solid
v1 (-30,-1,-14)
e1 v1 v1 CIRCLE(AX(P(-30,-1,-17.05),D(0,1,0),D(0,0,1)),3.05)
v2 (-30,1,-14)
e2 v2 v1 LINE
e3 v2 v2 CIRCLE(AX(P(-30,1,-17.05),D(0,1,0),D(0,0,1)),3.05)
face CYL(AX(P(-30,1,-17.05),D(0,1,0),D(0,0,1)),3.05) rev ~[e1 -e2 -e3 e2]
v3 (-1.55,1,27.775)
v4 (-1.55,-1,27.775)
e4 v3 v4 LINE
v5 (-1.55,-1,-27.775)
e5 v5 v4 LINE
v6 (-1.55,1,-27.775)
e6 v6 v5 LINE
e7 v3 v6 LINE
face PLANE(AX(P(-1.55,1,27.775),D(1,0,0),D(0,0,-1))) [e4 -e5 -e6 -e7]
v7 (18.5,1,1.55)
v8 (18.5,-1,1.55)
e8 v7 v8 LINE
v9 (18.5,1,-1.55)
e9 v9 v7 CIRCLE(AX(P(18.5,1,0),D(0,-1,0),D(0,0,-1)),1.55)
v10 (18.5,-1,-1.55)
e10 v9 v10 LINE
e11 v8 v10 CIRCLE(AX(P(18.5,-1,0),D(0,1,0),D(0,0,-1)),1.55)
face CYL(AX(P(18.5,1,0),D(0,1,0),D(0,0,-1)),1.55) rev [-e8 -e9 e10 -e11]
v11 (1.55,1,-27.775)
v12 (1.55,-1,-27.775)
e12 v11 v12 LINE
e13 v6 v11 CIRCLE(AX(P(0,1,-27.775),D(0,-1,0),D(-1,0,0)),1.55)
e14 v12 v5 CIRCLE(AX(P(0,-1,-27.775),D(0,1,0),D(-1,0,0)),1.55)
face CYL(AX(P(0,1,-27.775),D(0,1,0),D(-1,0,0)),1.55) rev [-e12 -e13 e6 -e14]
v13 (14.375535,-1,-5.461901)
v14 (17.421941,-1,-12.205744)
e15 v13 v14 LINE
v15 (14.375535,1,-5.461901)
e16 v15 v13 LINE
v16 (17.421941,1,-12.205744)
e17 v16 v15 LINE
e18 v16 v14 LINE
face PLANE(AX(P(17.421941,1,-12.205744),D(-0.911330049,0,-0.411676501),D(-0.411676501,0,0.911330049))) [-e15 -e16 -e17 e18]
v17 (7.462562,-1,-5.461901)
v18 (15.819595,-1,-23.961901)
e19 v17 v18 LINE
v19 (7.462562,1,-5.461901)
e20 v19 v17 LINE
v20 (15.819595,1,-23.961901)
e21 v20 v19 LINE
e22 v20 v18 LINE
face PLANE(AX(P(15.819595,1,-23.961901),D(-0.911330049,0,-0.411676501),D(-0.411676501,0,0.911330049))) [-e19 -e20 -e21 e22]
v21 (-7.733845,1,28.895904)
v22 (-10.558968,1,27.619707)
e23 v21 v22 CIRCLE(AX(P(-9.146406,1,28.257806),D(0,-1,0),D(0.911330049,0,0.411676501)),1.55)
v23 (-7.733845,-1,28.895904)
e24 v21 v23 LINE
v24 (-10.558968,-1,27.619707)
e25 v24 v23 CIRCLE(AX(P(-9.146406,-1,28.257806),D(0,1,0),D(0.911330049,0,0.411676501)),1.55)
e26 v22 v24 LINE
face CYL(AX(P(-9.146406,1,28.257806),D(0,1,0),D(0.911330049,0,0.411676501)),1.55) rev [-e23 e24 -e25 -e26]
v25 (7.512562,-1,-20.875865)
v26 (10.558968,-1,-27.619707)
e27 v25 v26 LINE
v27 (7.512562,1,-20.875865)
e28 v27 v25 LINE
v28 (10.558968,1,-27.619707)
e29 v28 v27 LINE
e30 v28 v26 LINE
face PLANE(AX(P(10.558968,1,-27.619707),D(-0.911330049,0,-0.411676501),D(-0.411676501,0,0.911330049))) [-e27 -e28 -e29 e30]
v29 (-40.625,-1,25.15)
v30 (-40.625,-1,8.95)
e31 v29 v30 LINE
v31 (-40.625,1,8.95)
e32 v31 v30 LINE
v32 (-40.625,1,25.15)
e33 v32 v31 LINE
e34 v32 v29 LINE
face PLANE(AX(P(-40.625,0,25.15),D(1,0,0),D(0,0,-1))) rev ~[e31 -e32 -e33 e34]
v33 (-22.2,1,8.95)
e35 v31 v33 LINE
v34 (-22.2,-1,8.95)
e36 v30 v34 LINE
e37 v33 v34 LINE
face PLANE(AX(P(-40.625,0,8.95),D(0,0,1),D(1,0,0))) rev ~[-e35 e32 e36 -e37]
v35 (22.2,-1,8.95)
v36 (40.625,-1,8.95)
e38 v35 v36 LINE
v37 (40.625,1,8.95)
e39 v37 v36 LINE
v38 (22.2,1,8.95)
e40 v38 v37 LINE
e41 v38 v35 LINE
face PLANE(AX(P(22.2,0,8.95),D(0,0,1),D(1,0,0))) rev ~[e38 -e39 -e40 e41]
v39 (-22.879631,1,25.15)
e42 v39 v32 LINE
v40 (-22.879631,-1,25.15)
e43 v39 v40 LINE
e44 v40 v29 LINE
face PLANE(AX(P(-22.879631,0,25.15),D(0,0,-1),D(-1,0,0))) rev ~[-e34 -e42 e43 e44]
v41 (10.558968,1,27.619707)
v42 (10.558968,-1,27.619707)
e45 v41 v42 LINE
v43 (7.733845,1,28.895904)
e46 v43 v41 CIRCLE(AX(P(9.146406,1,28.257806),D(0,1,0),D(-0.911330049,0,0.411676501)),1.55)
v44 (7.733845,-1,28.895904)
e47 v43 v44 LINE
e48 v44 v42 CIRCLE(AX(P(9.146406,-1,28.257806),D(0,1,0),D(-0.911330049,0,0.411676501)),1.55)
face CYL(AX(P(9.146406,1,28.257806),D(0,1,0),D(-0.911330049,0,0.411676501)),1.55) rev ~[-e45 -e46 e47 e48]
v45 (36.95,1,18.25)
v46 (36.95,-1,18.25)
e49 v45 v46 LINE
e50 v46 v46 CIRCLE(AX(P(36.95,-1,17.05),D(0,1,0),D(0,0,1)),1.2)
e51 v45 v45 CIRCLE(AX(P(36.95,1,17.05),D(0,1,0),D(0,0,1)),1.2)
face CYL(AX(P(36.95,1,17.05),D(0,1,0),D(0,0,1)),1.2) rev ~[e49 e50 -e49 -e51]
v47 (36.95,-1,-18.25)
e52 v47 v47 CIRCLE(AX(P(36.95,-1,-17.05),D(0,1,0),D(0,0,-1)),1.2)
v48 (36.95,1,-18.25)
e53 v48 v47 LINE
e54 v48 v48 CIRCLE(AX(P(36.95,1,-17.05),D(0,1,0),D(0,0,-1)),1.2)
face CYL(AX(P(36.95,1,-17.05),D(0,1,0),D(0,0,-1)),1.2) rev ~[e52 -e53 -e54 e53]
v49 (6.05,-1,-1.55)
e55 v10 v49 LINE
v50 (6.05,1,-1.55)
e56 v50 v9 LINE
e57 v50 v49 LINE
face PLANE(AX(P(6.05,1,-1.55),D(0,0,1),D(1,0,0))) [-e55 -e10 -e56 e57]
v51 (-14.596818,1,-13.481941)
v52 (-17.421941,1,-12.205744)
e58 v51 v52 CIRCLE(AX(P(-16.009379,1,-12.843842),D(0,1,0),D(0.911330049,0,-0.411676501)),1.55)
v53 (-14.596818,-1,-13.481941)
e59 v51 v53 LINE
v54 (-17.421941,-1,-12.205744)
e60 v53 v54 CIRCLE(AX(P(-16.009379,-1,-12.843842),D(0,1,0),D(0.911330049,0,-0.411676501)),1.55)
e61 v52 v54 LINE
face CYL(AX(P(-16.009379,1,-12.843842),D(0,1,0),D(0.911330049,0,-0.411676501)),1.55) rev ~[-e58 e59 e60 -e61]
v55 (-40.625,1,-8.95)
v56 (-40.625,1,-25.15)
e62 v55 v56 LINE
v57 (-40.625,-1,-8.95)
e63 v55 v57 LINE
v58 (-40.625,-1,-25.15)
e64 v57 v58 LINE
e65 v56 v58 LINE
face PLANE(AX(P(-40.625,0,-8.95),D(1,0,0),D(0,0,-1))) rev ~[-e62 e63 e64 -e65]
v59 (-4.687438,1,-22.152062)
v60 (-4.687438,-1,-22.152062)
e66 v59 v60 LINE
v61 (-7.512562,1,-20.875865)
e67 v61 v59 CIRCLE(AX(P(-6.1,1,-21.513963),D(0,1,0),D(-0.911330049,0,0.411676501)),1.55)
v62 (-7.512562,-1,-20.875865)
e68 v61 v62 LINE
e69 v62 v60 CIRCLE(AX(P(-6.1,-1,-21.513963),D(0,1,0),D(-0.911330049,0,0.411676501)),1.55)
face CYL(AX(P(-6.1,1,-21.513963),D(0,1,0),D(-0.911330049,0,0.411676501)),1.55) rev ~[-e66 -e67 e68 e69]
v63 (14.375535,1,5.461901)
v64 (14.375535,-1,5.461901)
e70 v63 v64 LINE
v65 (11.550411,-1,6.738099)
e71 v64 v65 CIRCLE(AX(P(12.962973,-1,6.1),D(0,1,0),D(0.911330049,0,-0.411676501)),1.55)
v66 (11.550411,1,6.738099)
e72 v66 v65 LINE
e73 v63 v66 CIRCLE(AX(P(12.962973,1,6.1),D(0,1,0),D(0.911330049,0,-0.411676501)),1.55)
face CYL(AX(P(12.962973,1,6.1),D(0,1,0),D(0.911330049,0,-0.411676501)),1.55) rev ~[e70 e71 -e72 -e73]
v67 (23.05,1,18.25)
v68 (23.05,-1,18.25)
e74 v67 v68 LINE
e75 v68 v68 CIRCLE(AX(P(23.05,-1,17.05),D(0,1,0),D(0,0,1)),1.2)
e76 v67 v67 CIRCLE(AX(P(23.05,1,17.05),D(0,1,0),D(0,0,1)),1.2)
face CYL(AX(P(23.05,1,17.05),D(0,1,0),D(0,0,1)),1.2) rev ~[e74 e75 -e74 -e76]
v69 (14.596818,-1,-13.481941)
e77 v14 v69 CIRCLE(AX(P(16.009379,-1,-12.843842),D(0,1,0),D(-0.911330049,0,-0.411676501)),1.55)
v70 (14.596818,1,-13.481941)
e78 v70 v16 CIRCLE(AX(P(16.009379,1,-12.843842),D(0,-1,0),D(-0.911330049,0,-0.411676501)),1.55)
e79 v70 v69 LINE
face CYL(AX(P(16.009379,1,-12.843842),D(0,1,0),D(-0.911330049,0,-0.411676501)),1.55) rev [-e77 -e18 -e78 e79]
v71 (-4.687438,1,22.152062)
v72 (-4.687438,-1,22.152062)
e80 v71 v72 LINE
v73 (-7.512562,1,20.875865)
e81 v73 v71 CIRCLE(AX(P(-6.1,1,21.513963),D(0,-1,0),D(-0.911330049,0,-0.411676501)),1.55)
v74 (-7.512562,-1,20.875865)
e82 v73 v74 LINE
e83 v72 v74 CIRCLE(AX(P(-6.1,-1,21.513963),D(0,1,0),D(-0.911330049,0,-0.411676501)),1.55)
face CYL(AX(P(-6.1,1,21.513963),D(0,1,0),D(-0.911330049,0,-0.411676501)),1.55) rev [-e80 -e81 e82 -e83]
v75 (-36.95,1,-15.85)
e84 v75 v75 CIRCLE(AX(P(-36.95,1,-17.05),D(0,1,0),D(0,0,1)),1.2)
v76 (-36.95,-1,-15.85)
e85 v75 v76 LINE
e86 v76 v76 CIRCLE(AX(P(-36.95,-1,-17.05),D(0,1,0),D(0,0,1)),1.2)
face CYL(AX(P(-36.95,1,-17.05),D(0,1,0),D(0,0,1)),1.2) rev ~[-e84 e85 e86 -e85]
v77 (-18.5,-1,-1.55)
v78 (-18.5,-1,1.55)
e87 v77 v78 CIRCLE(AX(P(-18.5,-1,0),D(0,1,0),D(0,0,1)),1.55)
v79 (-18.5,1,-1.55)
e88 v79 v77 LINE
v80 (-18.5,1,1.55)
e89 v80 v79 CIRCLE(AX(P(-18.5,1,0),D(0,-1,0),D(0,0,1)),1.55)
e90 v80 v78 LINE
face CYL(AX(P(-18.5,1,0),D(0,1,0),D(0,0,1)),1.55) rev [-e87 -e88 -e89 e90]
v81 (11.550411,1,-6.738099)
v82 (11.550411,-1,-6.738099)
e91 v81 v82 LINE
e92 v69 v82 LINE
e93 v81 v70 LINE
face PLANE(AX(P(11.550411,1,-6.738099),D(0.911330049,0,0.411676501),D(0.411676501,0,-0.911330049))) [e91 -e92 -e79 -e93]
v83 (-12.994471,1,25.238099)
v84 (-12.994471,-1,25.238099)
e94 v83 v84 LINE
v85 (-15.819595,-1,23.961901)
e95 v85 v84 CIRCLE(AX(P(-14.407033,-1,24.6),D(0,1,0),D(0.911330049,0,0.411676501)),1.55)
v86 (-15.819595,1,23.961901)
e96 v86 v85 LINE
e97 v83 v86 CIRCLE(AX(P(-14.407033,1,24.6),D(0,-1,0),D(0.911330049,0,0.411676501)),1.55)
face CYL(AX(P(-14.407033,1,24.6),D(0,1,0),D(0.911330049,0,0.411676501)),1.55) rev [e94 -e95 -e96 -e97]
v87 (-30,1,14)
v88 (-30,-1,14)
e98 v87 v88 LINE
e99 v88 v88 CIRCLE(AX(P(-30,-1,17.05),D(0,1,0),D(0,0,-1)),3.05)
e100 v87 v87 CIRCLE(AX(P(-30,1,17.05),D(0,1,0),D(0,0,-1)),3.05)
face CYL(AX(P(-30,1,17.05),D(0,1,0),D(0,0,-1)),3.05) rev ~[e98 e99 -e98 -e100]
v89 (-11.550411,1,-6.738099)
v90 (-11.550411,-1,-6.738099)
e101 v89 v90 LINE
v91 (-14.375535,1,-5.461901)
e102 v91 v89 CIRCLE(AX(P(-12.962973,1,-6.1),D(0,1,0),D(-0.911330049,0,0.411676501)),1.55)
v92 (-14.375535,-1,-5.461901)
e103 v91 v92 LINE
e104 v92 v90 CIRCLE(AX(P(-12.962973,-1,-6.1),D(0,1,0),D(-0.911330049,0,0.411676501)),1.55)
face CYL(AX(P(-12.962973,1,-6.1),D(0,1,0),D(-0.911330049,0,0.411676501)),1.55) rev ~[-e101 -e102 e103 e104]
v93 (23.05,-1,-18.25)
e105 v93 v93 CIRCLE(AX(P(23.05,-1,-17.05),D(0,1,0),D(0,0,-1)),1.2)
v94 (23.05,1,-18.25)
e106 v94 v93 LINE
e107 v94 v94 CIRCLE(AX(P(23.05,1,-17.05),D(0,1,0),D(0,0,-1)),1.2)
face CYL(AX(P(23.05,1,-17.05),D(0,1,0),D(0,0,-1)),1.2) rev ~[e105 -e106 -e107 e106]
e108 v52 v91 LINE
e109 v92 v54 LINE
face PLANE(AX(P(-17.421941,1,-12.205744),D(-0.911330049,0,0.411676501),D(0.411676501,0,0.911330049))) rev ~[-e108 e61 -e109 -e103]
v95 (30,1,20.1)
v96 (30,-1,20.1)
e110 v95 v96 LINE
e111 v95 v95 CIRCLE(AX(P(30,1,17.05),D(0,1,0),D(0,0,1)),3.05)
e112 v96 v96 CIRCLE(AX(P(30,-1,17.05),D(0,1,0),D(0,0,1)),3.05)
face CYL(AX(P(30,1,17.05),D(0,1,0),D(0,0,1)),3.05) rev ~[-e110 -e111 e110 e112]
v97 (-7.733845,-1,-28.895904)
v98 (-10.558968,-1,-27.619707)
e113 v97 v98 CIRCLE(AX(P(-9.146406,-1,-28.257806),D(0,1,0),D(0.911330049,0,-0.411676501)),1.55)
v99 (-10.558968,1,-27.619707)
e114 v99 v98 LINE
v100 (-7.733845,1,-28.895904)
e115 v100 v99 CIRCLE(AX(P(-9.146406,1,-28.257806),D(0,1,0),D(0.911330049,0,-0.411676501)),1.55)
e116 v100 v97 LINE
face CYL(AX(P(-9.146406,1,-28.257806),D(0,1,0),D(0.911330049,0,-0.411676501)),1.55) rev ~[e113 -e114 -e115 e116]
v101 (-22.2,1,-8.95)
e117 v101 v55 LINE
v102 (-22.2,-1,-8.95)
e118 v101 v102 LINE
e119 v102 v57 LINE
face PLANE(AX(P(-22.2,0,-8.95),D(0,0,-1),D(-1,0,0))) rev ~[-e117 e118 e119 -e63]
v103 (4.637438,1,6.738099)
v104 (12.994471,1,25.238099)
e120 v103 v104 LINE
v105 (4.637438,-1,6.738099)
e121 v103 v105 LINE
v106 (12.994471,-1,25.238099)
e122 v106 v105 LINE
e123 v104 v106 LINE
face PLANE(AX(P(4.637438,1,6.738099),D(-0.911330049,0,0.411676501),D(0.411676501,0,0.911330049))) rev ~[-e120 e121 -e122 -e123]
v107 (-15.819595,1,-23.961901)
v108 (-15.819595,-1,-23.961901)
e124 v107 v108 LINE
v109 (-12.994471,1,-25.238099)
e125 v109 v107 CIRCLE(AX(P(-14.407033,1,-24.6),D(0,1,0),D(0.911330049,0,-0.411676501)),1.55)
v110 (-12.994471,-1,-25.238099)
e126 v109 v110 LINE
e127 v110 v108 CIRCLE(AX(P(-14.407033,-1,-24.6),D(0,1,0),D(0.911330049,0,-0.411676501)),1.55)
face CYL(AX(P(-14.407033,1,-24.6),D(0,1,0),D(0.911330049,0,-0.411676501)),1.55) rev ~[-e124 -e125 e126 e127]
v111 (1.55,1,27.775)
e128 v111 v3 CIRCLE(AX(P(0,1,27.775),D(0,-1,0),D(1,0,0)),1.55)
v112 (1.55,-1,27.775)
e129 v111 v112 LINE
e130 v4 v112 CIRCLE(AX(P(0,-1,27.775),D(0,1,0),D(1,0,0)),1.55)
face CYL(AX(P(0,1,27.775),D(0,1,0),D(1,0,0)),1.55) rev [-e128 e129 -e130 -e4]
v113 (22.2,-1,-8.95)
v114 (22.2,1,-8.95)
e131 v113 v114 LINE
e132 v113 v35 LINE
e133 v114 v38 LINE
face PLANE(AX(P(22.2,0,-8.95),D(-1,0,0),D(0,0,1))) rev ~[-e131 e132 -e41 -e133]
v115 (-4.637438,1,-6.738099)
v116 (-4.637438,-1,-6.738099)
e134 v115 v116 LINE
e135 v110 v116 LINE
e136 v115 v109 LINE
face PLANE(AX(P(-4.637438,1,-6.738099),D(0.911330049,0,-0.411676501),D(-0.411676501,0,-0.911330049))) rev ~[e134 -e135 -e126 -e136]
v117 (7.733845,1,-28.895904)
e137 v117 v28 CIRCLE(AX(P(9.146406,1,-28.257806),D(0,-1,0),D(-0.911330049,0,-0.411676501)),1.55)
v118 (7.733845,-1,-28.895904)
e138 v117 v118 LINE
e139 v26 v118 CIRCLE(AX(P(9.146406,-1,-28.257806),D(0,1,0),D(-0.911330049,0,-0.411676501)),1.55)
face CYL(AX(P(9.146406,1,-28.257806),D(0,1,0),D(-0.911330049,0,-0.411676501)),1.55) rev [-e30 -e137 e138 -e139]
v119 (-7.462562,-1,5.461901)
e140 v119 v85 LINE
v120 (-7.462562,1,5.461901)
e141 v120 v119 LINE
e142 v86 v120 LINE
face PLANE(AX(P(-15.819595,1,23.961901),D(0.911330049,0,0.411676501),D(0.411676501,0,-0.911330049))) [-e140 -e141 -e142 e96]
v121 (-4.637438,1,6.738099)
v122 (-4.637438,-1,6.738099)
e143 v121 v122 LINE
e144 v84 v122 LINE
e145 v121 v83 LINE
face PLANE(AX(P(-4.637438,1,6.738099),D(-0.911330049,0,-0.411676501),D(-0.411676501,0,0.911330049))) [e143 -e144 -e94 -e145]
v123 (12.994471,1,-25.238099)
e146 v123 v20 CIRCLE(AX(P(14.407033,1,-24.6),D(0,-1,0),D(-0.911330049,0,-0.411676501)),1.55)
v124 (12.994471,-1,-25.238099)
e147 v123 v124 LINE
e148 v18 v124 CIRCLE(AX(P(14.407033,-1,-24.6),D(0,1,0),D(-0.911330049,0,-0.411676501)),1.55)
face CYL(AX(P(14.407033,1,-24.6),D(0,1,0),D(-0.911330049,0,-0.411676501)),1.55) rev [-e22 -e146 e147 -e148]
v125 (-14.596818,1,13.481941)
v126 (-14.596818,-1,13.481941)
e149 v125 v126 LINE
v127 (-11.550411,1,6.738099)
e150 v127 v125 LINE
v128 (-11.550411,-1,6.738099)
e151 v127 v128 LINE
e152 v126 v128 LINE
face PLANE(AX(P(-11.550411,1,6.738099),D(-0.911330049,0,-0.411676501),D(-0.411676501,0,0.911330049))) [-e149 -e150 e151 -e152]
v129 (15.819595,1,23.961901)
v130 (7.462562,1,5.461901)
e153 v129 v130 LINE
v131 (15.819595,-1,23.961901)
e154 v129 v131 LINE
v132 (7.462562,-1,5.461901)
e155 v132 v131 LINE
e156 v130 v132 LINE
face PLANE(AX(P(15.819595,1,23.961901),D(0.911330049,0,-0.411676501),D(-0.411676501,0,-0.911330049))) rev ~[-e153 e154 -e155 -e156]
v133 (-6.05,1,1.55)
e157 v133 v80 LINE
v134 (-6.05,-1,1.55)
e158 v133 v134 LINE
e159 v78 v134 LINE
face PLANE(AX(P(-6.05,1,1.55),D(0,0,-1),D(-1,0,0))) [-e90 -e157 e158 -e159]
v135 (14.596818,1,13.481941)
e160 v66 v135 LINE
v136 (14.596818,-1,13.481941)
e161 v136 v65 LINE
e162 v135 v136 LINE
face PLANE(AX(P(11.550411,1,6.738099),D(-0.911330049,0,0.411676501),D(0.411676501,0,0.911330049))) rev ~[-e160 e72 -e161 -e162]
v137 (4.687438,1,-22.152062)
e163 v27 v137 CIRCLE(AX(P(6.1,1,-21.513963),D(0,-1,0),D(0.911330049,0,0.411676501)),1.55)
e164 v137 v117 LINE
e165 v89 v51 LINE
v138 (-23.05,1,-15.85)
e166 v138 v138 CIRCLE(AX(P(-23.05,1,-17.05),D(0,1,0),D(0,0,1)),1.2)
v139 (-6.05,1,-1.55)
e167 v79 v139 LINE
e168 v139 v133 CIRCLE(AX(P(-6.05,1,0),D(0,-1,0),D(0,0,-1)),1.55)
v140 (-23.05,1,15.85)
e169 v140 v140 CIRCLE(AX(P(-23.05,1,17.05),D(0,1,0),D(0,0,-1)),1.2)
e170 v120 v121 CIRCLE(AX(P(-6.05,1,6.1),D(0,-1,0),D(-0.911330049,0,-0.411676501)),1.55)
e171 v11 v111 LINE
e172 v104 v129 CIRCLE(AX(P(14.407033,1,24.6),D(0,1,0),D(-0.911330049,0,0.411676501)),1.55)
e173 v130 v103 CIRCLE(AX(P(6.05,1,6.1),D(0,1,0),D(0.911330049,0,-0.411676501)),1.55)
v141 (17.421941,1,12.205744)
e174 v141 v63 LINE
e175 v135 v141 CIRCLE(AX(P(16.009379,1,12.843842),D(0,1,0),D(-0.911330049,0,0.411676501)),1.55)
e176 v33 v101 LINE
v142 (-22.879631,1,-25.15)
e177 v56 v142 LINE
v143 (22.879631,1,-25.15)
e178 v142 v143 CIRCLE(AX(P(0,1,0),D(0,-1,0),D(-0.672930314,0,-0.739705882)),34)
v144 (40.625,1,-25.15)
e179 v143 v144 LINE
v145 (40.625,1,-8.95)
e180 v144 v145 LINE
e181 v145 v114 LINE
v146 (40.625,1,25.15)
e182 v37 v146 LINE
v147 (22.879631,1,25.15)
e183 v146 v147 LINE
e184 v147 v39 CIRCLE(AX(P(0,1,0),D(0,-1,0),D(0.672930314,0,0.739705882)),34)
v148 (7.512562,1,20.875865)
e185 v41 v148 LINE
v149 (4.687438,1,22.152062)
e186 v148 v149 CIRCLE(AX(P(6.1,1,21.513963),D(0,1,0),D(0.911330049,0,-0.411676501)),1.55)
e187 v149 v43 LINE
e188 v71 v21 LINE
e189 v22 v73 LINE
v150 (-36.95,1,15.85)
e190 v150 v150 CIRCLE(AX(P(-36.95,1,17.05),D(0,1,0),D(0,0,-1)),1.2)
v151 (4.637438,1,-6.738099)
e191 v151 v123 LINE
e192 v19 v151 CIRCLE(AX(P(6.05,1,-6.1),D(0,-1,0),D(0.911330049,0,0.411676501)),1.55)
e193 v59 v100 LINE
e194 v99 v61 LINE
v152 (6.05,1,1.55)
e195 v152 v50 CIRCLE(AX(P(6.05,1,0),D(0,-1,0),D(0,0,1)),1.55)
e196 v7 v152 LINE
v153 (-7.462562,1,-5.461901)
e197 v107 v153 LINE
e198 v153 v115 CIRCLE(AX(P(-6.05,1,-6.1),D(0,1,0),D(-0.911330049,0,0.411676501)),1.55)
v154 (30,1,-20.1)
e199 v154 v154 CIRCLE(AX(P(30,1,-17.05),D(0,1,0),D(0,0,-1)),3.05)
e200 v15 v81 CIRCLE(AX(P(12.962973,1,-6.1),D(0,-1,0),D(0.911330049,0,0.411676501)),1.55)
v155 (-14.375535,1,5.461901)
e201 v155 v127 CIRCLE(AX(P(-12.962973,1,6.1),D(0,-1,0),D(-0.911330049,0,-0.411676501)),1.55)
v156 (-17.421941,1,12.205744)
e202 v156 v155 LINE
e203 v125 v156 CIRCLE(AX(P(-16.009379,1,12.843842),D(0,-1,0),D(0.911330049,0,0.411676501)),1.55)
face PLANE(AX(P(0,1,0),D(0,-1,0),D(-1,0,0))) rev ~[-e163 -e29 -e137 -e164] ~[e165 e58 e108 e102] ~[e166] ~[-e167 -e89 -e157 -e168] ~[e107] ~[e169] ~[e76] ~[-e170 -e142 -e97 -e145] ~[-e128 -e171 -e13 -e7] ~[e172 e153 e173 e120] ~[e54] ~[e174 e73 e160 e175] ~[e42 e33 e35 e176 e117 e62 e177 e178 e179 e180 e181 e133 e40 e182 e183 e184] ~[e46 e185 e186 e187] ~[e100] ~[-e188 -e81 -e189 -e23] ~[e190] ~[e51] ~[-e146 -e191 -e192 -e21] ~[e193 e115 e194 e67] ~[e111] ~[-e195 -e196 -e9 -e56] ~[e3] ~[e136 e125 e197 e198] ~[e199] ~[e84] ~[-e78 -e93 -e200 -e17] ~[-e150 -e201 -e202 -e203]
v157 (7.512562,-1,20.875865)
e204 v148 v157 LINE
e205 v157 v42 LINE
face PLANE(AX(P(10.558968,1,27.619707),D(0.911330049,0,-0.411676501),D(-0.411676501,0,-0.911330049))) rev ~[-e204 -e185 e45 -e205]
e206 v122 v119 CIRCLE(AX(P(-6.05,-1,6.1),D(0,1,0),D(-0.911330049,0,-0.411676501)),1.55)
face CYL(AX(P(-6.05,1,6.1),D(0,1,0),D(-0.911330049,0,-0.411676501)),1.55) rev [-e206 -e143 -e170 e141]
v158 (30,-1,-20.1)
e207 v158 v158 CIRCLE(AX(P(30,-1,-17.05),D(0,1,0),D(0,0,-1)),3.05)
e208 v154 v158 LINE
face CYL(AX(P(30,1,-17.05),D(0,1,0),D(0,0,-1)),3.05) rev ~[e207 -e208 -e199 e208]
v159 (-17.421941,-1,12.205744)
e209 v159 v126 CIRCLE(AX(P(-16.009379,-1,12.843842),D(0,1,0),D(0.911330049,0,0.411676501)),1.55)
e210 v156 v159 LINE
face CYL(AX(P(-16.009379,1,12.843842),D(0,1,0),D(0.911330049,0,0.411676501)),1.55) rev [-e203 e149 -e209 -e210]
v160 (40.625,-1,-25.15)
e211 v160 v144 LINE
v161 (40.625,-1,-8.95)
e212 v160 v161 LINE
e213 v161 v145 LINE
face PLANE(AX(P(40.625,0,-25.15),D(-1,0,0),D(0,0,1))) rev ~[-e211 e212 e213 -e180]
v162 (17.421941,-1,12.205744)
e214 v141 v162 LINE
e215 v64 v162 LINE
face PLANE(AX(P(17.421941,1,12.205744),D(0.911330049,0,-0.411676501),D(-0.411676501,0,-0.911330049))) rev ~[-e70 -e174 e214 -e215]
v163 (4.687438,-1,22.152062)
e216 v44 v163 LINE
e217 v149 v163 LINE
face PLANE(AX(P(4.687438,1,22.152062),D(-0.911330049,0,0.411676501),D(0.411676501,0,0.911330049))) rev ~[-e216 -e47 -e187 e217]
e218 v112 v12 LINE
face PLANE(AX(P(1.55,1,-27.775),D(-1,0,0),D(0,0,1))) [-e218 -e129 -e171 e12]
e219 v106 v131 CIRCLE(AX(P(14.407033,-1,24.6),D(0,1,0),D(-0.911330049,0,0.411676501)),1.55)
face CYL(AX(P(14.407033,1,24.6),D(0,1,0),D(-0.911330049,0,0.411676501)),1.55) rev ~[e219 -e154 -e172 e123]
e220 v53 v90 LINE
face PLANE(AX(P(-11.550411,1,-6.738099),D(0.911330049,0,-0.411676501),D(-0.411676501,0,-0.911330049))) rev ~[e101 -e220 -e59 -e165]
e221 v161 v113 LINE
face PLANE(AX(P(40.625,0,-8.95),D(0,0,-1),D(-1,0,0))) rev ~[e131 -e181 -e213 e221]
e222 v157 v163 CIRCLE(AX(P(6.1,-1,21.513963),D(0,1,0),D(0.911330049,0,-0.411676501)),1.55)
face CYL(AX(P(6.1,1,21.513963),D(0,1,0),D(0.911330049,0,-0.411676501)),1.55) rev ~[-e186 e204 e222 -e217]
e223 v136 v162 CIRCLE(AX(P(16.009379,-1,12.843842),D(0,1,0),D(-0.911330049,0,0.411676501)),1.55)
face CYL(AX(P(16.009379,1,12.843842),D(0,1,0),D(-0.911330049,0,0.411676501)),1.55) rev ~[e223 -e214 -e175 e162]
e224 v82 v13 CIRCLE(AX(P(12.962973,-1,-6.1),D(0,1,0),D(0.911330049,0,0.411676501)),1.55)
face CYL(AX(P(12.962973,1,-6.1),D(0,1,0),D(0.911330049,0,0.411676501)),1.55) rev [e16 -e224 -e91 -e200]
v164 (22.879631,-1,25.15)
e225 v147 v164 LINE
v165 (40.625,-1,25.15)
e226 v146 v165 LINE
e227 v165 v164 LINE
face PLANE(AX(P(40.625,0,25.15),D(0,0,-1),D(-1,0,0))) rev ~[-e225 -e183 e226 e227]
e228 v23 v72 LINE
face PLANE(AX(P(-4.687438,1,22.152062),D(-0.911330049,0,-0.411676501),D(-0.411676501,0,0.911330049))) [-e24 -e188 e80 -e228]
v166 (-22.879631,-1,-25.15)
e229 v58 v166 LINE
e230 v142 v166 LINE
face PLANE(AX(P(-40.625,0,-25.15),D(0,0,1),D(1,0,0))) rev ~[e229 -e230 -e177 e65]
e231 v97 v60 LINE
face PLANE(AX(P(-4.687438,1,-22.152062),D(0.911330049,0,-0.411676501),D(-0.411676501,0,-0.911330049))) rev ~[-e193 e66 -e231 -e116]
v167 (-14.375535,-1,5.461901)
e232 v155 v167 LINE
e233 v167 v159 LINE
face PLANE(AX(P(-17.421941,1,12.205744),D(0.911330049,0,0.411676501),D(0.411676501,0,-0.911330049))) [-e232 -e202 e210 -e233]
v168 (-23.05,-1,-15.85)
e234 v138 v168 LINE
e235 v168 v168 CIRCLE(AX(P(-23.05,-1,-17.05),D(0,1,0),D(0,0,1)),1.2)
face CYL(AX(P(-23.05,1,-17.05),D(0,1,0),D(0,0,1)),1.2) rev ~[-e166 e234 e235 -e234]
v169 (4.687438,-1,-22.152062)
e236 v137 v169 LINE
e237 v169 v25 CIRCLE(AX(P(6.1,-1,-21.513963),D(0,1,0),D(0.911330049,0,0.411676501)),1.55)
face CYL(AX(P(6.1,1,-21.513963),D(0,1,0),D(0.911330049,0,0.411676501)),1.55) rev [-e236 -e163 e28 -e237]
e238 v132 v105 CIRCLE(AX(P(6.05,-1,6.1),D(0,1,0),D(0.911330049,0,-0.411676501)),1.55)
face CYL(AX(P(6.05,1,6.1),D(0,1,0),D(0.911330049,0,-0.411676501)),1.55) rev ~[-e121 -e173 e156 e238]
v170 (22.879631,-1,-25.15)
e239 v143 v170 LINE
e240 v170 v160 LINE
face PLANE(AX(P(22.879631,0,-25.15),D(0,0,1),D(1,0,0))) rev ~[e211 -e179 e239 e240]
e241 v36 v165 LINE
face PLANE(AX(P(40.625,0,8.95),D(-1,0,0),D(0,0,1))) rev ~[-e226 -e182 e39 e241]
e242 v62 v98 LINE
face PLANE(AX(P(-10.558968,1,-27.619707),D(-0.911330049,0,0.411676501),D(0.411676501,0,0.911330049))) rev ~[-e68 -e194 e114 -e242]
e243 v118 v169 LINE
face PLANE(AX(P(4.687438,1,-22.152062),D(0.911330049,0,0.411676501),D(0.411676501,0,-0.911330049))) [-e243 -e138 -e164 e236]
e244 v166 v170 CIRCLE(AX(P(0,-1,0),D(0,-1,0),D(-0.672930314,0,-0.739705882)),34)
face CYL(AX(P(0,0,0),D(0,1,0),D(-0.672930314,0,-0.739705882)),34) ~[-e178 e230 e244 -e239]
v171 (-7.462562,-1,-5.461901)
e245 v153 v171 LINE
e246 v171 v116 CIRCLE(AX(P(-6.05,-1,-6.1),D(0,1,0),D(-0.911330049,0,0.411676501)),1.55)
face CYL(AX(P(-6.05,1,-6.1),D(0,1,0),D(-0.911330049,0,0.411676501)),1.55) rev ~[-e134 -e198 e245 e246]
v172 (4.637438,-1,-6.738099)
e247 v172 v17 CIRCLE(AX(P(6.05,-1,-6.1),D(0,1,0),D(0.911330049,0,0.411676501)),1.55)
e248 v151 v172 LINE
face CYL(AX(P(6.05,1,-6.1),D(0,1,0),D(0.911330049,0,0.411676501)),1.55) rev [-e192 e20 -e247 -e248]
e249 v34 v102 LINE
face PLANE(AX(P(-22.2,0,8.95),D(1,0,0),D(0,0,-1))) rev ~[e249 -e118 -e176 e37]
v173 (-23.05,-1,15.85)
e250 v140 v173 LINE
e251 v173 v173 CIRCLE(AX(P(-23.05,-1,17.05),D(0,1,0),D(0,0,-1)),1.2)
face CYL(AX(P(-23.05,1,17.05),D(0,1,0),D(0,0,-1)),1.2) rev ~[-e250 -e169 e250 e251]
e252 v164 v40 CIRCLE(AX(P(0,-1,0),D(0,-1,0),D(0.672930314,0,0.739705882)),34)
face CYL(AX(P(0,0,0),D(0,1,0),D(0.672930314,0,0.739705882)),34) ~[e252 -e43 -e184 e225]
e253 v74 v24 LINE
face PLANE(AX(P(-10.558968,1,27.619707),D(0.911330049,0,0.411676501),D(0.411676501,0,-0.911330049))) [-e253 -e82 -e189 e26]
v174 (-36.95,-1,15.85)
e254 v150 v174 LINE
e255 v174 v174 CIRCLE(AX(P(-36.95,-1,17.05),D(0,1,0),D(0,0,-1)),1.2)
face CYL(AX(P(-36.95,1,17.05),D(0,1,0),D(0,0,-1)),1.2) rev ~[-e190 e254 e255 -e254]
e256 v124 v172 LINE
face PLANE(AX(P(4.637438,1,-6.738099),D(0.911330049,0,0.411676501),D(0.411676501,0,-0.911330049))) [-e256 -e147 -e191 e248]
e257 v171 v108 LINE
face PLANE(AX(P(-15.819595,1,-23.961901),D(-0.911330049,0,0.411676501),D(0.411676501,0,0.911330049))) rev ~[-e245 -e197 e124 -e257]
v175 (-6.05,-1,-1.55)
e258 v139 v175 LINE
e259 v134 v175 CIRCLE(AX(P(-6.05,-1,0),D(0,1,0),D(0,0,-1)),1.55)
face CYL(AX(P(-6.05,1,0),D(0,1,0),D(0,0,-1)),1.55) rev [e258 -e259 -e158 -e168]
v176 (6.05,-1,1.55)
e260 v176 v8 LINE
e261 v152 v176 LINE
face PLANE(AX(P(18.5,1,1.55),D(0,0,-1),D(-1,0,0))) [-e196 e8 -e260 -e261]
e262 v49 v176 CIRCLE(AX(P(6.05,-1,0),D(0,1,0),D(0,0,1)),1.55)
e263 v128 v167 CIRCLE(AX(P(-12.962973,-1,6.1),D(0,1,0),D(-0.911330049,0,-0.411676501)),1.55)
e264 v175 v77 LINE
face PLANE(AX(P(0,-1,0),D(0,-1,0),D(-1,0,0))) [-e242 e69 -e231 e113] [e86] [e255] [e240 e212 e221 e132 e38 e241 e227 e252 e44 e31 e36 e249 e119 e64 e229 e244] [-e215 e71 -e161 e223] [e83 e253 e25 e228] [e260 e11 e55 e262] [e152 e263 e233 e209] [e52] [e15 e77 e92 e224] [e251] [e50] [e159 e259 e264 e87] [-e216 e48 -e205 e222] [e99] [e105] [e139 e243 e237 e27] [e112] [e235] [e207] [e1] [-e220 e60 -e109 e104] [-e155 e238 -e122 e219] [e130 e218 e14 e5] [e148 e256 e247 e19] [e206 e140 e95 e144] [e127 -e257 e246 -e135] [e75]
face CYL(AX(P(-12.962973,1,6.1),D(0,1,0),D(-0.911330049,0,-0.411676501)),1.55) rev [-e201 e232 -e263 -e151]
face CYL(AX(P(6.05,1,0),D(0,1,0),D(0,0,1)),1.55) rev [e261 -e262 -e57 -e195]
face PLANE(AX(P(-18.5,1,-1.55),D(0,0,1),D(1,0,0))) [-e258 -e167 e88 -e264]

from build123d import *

# Parameters (mm, degrees)
BOSS_EXTRUDE1_DEPTH = 1
SKETCH3_R           = 1.2
SKETCH3_R_2         = 3.05
CUT_EXTRUDE1_DEPTH  = 54.01311748


with BuildPart() as part:
    # Sketch1 → Boss-Extrude1 (new, symmetric)
    with BuildSketch(Plane(origin=(0, 0, 0), x_dir=(1, 0, 0), z_dir=(0, 1, 0))):
        with BuildLine():
            Line((22.2, 8.95), (22.2, -8.95))
            Line((22.2, -8.95), (40.625, -8.95))
            Line((40.625, -8.95), (40.625, -25.15))
            Line((40.625, -25.15), (22.879630679, -25.15))
            ThreePointArc((22.879630679, -25.15), (0, -34), (-22.879630679, -25.15))
            Line((-22.879630679, -25.15), (-40.625, -25.15))
            Line((-40.625, -25.15), (-40.625, -8.95))
            Line((-40.625, -8.95), (-22.2, -8.95))
            Line((-22.2, -8.95), (-22.2, 8.95))
            Line((-22.2, 8.95), (-40.625, 8.95))
            Line((-40.625, 8.95), (-40.625, 25.15))
            Line((-40.625, 25.15), (-22.879630679, 25.15))
            ThreePointArc((-22.879630679, 25.15), (0, 34), (22.879630679, 25.15))
            Line((22.879630679, 25.15), (40.625, 25.15))
            Line((40.625, 25.15), (40.625, 8.95))
            Line((40.625, 8.95), (22.2, 8.95))
        make_face()
    extrude(amount=BOSS_EXTRUDE1_DEPTH, both=True)

    # Sketch3 → Cut-Extrude1 (cut, through all)
    with BuildSketch(Plane(origin=(0, 1, 0), x_dir=(1, 0, 0), z_dir=(0, 1, 0))):
        with Locations(Location((-36.95, 17.05, 0), (0, 0, 270))):
            Circle(SKETCH3_R)
        with Locations(Location((-30, 17.05, 0), (0, 0, 270))):
            Circle(SKETCH3_R_2)
        with Locations(Location((-23.05, 17.05, 0), (0, 0, 270))):
            Circle(SKETCH3_R)
        with Locations(Location((23.05, 17.05, 0), (0, 0, 90))):
            Circle(SKETCH3_R)
        with Locations(Location((30, 17.05, 0), (0, 0, 90))):
            Circle(SKETCH3_R_2)
        with Locations(Location((36.95, 17.05, 0), (0, 0, 90))):
            Circle(SKETCH3_R)
        with Locations(Location((36.95, -17.05, 0), (0, 0, 270))):
            Circle(SKETCH3_R)
        with Locations(Location((30, -17.05, 0), (0, 0, 270))):
            Circle(SKETCH3_R_2)
        with Locations(Location((23.05, -17.05, 0), (0, 0, 270))):
            Circle(SKETCH3_R)
        with Locations(Location((-23.05, -17.05, 0), (0, 0, 90))):
            Circle(SKETCH3_R)
        with Locations(Location((-30, -17.05, 0), (0, 0, 90))):
            Circle(SKETCH3_R_2)
        with Locations(Location((-36.95, -17.05, 0), (0, 0, 90))):
            Circle(SKETCH3_R)
        with BuildLine():
            Line((1.55, 27.775), (1.55, -27.775))
            ThreePointArc((1.55, -27.775), (0, -29.325), (-1.55, -27.775))
            Line((-1.55, -27.775), (-1.55, 27.775))
            ThreePointArc((-1.55, 27.775), (0, 29.325), (1.55, 27.775))
        make_face()
        with BuildLine():
            Line((-18.5, 1.55), (-6.05, 1.55))
            ThreePointArc((-6.05, 1.55), (-4.5, 0), (-6.05, -1.55))
            Line((-6.05, -1.55), (-18.5, -1.55))
            ThreePointArc((-18.5, -1.55), (-20.05, 0), (-18.5, 1.55))
        make_face()
        with BuildLine():
            Line((6.05, 1.55), (18.5, 1.55))
            ThreePointArc((18.5, 1.55), (20.05, 0), (18.5, -1.55))
            Line((18.5, -1.55), (6.05, -1.55))
            ThreePointArc((6.05, -1.55), (4.5, 0), (6.05, 1.55))
        make_face()
        with BuildLine():
            Line((4.637438424, 6.738098576), (12.99447139, 25.238098576))
            ThreePointArc((12.99447139, 25.238098576), (15.045131543, 26.012561576), (15.819594543, 23.961901424))
            Line((15.819594543, 23.961901424), (7.462561576, 5.461901424))
            ThreePointArc((7.462561576, 5.461901424), (5.411901424, 4.687438424), (4.637438424, 6.738098576))
        make_face()
        with BuildLine():
            Line((4.687438424, 22.152061943), (7.73384453, 28.895904308))
            ThreePointArc((7.73384453, 28.895904308), (9.784504682, 29.670367308), (10.558967682, 27.619707155))
            Line((10.558967682, 27.619707155), (7.512561576, 20.875864791))
            ThreePointArc((7.512561576, 20.875864791), (5.461901424, 20.101401791), (4.687438424, 22.152061943))
        make_face()
        with BuildLine():
            Line((11.550411397, 6.738098576), (14.596817503, 13.481940941))
            ThreePointArc((14.596817503, 13.481940941), (16.647477655, 14.256403941), (17.421940655, 12.205743788))
            Line((17.421940655, 12.205743788), (14.375534549, 5.461901424))
            ThreePointArc((14.375534549, 5.461901424), (12.324874397, 4.687438424), (11.550411397, 6.738098576))
        make_face()
        with BuildLine():
            Line((-4.637438424, 6.738098576), (-12.99447139, 25.238098576))
            ThreePointArc((-12.99447139, 25.238098576), (-15.045131543, 26.012561576), (-15.819594543, 23.961901424))
            Line((-15.819594543, 23.961901424), (-7.462561576, 5.461901424))
            ThreePointArc((-7.462561576, 5.461901424), (-5.411901424, 4.687438424), (-4.637438424, 6.738098576))
        make_face()
        with BuildLine():
            Line((-4.687438424, 22.152061943), (-7.73384453, 28.895904308))
            ThreePointArc((-7.73384453, 28.895904308), (-9.784504682, 29.670367308), (-10.558967682, 27.619707155))
            Line((-10.558967682, 27.619707155), (-7.512561576, 20.875864791))
            ThreePointArc((-7.512561576, 20.875864791), (-5.461901424, 20.101401791), (-4.687438424, 22.152061943))
        make_face()
        with BuildLine():
            Line((-11.550411397, 6.738098576), (-14.596817503, 13.481940941))
            ThreePointArc((-14.596817503, 13.481940941), (-16.647477655, 14.256403941), (-17.421940655, 12.205743788))
            Line((-17.421940655, 12.205743788), (-14.375534549, 5.461901424))
            ThreePointArc((-14.375534549, 5.461901424), (-12.324874397, 4.687438424), (-11.550411397, 6.738098576))
        make_face()
        with BuildLine():
            Line((-4.637438424, -6.738098576), (-12.99447139, -25.238098576))
            ThreePointArc((-12.99447139, -25.238098576), (-15.045131543, -26.012561576), (-15.819594543, -23.961901424))
            Line((-15.819594543, -23.961901424), (-7.462561576, -5.461901424))
            ThreePointArc((-7.462561576, -5.461901424), (-5.411901424, -4.687438424), (-4.637438424, -6.738098576))
        make_face()
        with BuildLine():
            Line((-4.687438424, -22.152061943), (-7.73384453, -28.895904308))
            ThreePointArc((-7.73384453, -28.895904308), (-9.784504682, -29.670367308), (-10.558967682, -27.619707155))
            Line((-10.558967682, -27.619707155), (-7.512561576, -20.875864791))
            ThreePointArc((-7.512561576, -20.875864791), (-5.461901424, -20.101401791), (-4.687438424, -22.152061943))
        make_face()
        with BuildLine():
            Line((-11.550411397, -6.738098576), (-14.596817503, -13.481940941))
            ThreePointArc((-14.596817503, -13.481940941), (-16.647477655, -14.256403941), (-17.421940655, -12.205743788))
            Line((-17.421940655, -12.205743788), (-14.375534549, -5.461901424))
            ThreePointArc((-14.375534549, -5.461901424), (-12.324874397, -4.687438424), (-11.550411397, -6.738098576))
        make_face()
        with BuildLine():
            Line((4.637438424, -6.738098576), (12.99447139, -25.238098576))
            ThreePointArc((12.99447139, -25.238098576), (15.045131543, -26.012561576), (15.819594543, -23.961901424))
            Line((15.819594543, -23.961901424), (7.462561576, -5.461901424))
            ThreePointArc((7.462561576, -5.461901424), (5.411901424, -4.687438424), (4.637438424, -6.738098576))
        make_face()
        with BuildLine():
            Line((4.687438424, -22.152061943), (7.73384453, -28.895904308))
            ThreePointArc((7.73384453, -28.895904308), (9.784504682, -29.670367308), (10.558967682, -27.619707155))
            Line((10.558967682, -27.619707155), (7.512561576, -20.875864791))
            ThreePointArc((7.512561576, -20.875864791), (5.461901424, -20.101401791), (4.687438424, -22.152061943))
        make_face()
        with BuildLine():
            Line((11.550411397, -6.738098576), (14.596817503, -13.481940941))
            ThreePointArc((14.596817503, -13.481940941), (16.647477655, -14.256403941), (17.421940655, -12.205743788))
            Line((17.421940655, -12.205743788), (14.375534549, -5.461901424))
            ThreePointArc((14.375534549, -5.461901424), (12.324874397, -4.687438424), (11.550411397, -6.738098576))
        make_face()
    extrude(amount=-CUT_EXTRUDE1_DEPTH, mode=Mode.SUBTRACT)


solid = part.part
